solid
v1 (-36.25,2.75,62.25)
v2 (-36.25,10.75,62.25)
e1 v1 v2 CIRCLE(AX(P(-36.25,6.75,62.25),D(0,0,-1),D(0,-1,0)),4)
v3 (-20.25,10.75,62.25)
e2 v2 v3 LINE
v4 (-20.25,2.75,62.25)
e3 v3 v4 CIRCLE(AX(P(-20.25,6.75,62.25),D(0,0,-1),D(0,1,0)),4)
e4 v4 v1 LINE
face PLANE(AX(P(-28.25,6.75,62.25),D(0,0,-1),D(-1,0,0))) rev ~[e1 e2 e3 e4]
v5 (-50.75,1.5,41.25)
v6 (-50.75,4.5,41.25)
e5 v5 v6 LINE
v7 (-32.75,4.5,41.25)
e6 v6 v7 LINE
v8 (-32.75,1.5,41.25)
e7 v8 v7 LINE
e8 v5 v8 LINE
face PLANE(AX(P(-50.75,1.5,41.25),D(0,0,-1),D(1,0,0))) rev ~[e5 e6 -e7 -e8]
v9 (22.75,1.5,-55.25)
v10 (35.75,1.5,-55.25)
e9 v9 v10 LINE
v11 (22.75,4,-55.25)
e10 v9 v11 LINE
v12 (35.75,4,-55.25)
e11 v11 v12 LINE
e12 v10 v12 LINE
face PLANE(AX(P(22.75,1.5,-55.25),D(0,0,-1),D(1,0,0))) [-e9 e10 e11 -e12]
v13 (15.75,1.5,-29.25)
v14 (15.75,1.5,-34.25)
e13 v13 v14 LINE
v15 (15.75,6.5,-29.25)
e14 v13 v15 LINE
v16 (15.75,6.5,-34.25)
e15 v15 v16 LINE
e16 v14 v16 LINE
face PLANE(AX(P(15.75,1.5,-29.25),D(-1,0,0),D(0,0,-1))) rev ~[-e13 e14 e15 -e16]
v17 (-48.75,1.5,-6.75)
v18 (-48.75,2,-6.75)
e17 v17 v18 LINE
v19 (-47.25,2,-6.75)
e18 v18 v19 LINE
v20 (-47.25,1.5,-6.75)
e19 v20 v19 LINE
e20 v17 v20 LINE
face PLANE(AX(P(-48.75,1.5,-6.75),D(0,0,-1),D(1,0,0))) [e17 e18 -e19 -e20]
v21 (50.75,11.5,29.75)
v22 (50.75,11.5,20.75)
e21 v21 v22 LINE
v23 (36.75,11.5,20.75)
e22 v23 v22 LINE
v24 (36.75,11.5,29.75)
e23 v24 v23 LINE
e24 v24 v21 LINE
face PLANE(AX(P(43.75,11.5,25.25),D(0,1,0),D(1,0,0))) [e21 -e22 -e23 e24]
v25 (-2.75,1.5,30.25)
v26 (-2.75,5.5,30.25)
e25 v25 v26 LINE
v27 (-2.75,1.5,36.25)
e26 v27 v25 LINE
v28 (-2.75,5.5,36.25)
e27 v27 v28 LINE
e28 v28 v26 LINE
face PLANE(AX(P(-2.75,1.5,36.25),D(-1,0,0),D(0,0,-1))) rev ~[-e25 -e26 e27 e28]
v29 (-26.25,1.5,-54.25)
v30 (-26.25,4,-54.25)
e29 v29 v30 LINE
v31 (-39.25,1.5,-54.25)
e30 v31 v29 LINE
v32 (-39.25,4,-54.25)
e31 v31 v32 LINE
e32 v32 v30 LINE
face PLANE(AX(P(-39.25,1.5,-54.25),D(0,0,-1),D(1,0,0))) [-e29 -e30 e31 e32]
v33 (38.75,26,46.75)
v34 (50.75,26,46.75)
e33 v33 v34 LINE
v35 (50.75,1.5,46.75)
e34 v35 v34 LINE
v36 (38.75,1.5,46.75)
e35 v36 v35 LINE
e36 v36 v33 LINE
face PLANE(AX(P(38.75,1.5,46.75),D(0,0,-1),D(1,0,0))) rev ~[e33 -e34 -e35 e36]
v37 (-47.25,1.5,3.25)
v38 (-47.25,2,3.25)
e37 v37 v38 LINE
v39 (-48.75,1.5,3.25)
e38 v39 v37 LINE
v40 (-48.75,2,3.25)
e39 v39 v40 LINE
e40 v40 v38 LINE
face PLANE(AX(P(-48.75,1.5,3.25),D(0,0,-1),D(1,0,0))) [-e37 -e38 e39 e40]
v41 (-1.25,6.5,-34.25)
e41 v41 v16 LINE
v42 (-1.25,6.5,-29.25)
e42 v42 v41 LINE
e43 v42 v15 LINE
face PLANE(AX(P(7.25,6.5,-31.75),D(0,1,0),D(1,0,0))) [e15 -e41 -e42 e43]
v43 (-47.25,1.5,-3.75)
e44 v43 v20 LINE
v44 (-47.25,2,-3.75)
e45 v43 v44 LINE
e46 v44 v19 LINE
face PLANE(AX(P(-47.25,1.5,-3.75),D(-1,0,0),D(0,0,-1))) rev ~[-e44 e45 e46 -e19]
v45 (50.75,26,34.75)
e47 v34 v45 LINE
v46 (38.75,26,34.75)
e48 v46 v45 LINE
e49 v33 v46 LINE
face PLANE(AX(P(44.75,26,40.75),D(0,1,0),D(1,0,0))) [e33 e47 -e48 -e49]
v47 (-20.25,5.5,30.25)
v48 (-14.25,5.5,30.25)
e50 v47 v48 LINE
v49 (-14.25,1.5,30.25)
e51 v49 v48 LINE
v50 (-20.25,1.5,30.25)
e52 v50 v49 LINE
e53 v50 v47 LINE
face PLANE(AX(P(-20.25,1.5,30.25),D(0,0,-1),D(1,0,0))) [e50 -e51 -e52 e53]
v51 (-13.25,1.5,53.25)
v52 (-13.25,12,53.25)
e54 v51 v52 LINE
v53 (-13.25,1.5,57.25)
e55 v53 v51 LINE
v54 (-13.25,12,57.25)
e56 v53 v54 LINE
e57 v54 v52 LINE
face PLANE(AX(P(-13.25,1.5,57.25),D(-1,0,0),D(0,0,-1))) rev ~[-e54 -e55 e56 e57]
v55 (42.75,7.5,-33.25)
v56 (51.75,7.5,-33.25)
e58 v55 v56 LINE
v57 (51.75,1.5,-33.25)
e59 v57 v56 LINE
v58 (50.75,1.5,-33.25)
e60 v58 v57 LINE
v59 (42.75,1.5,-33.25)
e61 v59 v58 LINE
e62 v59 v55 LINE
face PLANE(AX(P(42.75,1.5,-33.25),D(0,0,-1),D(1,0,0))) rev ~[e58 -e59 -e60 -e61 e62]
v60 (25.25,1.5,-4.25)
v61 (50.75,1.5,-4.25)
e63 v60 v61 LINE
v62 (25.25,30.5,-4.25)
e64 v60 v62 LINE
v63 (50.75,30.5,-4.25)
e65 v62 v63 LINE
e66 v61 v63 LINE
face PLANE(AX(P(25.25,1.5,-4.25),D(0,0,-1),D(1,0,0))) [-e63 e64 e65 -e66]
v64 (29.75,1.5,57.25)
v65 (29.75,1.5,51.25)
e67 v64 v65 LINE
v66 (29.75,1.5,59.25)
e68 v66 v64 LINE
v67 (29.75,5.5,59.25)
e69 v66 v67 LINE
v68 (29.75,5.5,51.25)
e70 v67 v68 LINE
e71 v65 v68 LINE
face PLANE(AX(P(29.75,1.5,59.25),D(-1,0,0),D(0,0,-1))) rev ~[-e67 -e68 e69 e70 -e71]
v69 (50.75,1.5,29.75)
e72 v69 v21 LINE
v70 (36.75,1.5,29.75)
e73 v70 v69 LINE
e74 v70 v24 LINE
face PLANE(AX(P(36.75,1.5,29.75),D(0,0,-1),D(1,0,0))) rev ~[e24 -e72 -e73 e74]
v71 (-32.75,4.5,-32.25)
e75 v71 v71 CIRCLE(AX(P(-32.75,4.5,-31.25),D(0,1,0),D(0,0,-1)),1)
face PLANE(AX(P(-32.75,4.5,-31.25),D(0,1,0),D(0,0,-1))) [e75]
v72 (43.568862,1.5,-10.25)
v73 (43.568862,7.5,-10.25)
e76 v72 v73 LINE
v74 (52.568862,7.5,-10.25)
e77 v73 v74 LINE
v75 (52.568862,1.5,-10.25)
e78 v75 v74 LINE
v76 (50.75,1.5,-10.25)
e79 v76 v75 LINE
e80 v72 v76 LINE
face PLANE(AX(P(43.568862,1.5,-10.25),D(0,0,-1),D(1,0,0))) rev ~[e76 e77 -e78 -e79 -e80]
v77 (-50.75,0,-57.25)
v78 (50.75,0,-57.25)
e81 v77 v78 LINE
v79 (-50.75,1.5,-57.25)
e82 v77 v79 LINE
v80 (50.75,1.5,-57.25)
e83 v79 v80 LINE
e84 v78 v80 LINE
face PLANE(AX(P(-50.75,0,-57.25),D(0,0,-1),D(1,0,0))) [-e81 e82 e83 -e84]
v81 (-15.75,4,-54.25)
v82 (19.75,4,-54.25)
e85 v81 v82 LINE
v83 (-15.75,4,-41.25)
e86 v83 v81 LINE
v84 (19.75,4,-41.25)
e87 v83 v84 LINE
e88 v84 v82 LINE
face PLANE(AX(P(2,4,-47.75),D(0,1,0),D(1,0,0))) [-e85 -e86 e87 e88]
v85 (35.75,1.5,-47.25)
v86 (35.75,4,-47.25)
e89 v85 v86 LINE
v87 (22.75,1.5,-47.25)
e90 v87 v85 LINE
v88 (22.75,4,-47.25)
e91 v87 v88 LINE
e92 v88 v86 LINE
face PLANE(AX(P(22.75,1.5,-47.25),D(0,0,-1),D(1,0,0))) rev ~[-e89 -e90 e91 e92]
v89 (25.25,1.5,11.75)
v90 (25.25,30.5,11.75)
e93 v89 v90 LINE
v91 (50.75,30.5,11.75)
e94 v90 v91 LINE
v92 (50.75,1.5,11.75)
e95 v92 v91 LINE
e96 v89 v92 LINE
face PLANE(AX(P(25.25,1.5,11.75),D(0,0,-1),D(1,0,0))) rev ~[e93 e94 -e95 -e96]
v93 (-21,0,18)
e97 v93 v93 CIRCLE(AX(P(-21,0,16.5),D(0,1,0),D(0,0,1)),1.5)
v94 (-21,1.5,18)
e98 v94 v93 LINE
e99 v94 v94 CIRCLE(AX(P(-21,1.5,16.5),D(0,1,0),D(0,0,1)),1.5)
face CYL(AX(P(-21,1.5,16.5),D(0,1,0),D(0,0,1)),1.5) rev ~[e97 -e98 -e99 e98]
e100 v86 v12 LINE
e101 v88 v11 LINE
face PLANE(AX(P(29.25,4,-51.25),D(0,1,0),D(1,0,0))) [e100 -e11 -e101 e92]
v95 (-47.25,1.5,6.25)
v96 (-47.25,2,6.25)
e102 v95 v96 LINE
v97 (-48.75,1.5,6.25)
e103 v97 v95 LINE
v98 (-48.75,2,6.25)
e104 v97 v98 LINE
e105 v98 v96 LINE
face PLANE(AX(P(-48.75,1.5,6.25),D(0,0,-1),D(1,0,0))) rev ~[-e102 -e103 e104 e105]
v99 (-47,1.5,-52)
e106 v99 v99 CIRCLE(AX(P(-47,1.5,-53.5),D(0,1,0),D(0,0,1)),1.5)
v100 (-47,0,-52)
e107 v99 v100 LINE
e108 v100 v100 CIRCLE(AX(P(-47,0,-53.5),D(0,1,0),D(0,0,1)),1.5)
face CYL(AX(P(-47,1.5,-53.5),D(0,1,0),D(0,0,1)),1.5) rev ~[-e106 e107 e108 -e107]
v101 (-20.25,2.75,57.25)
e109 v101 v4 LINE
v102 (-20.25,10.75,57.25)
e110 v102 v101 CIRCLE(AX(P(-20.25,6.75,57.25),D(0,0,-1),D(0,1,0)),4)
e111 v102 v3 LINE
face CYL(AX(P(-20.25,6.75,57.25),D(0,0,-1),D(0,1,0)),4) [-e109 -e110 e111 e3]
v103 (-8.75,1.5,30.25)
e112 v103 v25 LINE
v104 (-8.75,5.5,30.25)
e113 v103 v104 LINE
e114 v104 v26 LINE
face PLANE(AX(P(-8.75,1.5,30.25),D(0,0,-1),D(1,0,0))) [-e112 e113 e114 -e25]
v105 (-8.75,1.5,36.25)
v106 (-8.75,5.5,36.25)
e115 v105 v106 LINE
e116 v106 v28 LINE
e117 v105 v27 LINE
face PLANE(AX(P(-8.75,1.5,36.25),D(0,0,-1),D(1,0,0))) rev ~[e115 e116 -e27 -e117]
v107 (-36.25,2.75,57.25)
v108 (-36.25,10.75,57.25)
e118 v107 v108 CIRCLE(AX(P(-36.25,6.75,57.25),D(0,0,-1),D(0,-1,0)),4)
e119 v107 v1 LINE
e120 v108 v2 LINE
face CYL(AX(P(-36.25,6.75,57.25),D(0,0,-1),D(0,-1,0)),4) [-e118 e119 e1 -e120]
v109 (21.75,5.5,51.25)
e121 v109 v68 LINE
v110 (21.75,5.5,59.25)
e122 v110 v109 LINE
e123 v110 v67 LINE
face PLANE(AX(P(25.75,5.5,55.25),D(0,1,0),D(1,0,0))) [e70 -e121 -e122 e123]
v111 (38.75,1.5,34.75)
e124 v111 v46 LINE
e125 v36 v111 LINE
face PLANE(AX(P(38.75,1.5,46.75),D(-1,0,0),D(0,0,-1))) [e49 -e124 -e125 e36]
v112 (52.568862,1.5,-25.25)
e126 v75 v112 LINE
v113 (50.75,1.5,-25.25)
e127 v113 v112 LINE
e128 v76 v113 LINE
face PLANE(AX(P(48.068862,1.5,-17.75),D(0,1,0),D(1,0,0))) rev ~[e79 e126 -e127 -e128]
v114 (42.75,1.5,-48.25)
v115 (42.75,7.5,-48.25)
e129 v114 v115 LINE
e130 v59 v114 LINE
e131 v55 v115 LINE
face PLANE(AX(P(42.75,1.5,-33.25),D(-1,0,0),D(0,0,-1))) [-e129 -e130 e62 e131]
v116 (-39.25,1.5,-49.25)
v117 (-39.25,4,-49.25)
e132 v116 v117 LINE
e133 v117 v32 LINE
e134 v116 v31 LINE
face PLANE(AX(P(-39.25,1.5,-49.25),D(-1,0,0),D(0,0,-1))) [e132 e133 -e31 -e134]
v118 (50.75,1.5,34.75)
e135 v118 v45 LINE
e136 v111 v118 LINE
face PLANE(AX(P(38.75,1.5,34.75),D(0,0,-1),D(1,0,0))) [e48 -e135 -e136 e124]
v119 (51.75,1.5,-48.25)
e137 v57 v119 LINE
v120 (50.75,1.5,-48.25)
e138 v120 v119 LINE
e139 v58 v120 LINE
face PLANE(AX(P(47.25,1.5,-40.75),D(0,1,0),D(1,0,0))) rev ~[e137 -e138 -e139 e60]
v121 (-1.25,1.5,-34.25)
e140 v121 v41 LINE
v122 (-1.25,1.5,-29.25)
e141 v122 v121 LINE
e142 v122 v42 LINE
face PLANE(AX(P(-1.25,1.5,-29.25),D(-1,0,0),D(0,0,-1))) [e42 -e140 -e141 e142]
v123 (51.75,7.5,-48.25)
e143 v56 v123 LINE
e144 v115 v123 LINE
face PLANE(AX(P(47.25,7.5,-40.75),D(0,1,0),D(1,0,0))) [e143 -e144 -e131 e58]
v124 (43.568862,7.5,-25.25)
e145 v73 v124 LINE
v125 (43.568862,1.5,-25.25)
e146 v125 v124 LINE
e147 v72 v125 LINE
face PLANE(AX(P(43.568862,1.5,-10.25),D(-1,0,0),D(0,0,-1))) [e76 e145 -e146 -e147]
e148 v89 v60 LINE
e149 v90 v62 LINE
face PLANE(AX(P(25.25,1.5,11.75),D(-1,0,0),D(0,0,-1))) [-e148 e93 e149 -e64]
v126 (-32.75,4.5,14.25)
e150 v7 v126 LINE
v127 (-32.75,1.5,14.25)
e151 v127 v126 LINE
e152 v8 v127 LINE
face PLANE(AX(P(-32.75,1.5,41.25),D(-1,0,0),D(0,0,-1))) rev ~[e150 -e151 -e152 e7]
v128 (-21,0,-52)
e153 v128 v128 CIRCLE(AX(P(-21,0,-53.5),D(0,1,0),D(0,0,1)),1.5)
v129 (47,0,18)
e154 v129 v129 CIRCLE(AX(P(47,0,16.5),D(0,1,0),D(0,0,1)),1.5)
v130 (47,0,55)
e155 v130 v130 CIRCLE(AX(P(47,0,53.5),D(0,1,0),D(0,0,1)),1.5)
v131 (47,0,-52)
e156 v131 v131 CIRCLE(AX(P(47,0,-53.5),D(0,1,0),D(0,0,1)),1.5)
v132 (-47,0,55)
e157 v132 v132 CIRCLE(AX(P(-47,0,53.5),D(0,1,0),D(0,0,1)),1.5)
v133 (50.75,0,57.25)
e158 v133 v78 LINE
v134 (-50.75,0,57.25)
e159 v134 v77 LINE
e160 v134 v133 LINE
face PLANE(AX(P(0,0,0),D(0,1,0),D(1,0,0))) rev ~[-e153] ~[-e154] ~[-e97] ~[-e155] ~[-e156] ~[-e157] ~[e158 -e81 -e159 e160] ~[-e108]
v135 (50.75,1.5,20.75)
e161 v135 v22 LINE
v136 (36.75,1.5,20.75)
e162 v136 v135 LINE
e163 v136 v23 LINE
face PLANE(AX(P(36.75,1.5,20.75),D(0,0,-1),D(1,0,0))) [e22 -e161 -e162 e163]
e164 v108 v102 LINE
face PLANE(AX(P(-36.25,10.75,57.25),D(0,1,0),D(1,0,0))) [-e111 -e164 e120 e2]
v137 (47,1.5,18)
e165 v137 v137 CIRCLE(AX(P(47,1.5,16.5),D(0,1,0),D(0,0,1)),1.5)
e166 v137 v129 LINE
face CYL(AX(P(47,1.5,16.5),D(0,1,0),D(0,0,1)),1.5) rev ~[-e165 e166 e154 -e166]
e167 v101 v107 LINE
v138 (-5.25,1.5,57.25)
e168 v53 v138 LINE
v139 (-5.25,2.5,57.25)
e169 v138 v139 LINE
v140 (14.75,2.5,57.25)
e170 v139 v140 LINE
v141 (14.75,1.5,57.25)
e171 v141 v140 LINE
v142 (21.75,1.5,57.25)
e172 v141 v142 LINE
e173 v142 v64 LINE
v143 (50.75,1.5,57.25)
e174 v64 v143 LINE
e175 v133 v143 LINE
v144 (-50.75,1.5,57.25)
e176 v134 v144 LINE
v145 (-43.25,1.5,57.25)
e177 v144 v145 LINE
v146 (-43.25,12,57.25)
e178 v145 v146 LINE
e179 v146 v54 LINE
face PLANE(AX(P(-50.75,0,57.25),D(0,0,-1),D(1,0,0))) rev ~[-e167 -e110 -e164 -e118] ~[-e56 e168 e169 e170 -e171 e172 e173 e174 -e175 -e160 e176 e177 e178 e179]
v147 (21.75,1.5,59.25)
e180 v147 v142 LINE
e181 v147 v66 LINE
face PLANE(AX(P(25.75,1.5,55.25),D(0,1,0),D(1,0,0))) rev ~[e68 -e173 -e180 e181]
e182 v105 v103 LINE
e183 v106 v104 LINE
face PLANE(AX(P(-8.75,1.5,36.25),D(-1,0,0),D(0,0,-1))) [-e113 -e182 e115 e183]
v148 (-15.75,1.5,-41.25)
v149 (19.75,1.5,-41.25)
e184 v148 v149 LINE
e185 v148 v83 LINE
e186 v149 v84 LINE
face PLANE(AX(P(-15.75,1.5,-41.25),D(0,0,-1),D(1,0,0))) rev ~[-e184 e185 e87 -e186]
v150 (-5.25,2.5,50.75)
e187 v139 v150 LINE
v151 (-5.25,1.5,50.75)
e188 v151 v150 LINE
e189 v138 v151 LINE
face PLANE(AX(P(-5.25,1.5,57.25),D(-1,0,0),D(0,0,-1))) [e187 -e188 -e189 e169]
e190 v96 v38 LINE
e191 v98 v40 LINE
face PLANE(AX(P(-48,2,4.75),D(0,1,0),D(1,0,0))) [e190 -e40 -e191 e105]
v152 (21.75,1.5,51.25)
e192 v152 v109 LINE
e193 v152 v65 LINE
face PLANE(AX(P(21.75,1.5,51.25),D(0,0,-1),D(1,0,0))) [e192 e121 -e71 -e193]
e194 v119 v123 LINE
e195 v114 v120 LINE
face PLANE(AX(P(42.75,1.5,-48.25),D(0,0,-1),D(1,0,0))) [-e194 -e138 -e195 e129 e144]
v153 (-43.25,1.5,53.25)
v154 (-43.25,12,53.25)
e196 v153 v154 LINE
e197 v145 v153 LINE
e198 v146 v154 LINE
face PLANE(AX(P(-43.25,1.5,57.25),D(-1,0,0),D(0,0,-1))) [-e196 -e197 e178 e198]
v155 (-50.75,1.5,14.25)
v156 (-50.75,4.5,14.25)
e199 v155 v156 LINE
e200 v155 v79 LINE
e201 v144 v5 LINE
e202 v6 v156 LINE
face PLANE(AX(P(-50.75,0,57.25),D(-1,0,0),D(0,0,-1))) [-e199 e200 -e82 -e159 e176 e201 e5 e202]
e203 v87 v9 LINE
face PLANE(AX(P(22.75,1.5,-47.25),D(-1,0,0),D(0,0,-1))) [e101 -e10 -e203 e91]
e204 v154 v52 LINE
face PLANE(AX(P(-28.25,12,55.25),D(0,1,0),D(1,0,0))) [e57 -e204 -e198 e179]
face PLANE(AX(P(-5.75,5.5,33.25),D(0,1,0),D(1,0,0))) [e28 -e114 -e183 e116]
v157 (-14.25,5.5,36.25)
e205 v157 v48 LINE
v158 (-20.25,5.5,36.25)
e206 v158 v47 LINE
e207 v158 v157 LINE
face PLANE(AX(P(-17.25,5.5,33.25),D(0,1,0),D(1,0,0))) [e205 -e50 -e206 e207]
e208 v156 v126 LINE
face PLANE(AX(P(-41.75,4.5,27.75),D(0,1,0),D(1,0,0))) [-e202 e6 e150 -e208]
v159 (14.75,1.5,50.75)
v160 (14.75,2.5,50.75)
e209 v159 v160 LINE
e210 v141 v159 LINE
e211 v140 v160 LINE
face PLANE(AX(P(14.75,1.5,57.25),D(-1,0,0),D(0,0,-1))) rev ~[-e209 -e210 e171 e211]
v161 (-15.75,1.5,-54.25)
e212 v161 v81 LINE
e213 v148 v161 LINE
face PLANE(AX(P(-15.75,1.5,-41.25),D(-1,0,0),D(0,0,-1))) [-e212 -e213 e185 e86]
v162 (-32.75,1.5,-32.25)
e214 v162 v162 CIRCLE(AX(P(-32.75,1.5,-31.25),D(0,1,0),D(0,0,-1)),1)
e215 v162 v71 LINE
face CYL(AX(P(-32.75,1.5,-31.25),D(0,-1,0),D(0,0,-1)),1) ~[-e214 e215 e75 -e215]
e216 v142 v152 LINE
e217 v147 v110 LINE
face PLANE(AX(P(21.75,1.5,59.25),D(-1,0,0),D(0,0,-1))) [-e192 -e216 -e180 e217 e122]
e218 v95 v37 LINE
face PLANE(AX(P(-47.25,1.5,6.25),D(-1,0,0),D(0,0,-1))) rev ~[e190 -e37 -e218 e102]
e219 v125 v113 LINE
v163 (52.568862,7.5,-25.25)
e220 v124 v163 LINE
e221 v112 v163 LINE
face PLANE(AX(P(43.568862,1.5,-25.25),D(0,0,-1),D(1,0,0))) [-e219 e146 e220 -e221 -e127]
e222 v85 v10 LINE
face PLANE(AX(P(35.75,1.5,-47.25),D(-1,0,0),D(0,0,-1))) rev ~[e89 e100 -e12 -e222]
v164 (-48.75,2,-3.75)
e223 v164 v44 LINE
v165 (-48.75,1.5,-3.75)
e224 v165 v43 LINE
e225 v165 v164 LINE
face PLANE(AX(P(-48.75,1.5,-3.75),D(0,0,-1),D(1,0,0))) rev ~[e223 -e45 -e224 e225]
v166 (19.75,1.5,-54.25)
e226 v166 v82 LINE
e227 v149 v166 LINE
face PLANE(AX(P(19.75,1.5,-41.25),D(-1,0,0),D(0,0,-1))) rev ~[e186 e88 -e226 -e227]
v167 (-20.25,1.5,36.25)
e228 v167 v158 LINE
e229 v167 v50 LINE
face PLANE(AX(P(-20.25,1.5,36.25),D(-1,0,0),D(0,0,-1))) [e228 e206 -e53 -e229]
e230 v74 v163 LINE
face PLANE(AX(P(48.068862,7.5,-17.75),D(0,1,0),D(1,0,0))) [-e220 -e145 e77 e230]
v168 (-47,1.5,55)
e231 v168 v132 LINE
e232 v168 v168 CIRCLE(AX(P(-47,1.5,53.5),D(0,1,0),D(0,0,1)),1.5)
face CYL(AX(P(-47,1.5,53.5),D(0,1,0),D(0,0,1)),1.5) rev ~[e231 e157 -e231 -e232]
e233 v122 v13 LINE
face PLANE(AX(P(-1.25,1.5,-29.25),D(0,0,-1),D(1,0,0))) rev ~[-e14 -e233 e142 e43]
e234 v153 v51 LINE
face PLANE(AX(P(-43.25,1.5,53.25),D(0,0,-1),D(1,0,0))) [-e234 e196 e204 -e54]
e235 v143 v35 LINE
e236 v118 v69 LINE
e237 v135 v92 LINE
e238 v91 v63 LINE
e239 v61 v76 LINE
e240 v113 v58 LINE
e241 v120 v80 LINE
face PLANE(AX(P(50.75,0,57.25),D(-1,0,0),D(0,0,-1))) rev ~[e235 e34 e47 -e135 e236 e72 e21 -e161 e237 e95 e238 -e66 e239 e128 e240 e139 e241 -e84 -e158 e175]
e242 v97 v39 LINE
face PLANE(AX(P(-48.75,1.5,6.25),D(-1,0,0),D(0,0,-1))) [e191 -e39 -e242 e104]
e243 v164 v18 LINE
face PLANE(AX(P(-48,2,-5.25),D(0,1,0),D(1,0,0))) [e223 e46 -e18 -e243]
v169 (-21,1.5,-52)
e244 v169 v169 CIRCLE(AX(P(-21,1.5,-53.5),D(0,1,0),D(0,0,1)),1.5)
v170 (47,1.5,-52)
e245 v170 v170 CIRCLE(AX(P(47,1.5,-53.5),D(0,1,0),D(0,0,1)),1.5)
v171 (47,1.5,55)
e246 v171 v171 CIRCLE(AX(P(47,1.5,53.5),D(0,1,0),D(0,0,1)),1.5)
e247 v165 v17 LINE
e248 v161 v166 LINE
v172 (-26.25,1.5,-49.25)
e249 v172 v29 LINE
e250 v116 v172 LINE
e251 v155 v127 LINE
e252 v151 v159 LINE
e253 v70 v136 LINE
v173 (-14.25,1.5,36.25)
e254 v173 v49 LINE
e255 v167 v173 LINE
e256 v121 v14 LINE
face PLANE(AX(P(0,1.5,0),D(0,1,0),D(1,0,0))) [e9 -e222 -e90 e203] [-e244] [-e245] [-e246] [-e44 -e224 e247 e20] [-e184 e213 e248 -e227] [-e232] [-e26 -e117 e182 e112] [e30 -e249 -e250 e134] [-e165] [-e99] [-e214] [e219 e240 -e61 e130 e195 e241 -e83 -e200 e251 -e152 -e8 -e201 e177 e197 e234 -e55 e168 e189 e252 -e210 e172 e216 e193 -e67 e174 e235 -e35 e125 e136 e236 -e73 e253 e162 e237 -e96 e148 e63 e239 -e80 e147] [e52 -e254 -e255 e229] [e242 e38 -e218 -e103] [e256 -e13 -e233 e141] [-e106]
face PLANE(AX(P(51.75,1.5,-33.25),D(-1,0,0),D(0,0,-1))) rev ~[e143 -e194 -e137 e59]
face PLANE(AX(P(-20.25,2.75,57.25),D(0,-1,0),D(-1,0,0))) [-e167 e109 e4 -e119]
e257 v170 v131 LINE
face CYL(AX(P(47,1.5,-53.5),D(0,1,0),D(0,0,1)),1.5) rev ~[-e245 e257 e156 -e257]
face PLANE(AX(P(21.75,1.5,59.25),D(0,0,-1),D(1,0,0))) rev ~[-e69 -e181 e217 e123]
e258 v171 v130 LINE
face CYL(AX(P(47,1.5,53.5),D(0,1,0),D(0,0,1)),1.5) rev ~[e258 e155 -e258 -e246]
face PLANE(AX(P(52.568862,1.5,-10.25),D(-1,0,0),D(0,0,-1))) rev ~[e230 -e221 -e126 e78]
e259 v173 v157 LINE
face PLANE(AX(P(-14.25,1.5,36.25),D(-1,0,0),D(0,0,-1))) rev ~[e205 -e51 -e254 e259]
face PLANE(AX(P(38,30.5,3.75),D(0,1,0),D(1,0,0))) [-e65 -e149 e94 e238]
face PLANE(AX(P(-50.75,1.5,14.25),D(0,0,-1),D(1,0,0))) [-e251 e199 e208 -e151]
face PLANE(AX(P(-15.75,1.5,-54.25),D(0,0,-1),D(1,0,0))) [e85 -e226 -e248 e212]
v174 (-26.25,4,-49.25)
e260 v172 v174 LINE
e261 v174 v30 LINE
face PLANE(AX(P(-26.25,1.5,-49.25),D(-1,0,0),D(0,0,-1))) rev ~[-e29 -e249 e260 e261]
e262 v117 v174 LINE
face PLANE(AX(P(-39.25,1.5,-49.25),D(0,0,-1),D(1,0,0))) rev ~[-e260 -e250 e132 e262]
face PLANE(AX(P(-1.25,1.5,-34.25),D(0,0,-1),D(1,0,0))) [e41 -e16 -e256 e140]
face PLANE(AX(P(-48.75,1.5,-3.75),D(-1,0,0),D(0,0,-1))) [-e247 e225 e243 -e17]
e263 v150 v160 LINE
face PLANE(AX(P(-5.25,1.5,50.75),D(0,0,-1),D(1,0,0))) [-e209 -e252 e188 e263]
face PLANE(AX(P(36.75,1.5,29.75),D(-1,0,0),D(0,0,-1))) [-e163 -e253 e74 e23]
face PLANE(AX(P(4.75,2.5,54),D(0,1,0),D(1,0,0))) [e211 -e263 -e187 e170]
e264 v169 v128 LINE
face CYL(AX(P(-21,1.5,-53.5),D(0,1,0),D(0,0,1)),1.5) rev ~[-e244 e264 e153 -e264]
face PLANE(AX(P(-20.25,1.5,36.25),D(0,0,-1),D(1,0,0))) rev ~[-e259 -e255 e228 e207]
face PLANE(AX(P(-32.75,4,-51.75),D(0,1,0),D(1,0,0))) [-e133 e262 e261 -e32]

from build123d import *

# Parameters (mm, degrees)
SKETCH1_W                  = 101.5
SKETCH1_H                  = 114.5
TR_KKPLAAT_DEPTH           = 1.5
SKETCH2_R                  = 1.5
AUGUD_DEPTH                = 1.5
SKETCH3_W                  = 35.5
SKETCH3_H                  = 13
EXP_CONN_A_B_DEPTH         = 2.5
SKETCH4_W                  = 13
SKETCH4_H                  = 8
LCD_CONN_A_B_DEPTH         = 2.5
SKETCH5_W                  = 13
SKETCH5_H                  = 5
WIFI_BT_DEPTH              = 2.5
SKETCH6_W                  = 17
SKETCH6_H                  = 5
JTAG_DEPTH                 = 5
SKETCH7_W                  = 9
SKETCH7_H                  = 15
HDMI_A_B_DEPTH             = 6
SKETCH8_W                  = 25.5
SKETCH8_H                  = 16
USB_ETHERNET_DEPTH         = 29
SKETCH9_W                  = 14
SKETCH9_H                  = 9
F_5V_IN_DEPTH              = 10
SKETCH10_W                 = 12
SKETCH10_H                 = 12
HEADPHONE_DEPTH            = 24.5
SKETCH11_W                 = 8
SKETCH11_H                 = 8
MINI_USB_DEPTH             = 4
SKETCH12_W                 = 30
SKETCH12_H                 = 4
BOSS_EXTRUDE11_DEPTH       = 10.5
BOSS_EXTRUDE12_DEPTH       = 5
SKETCH14_W                 = 18
SKETCH14_H                 = 27
SD_CARD_SLOT_DEPTH         = 3
SKETCH15_W                 = 1.5
SKETCH15_H                 = 3
STATUS_LED_DEPTH           = 0.5
SKETCH16_W                 = 6
SKETCH16_H                 = 6
PWRON_RESET_GPIO_121_DEPTH = 4
SKETCH17_W                 = 20
SKETCH17_H                 = 6.5
CAMERA_CONN_DEPTH          = 1
SKETCH18_R                 = 1
WIFI_BT_ANTENNA_DEPTH      = 3


with BuildPart() as part:
    # Sketch1 → trükkplaat (new body)
    with BuildSketch(Plane(origin=(0, 0, 0), x_dir=(1, 0, 0), z_dir=(0, 1, 0))):
        Rectangle(SKETCH1_W, SKETCH1_H)
    extrude(amount=TR_KKPLAAT_DEPTH)

    # Sketch2 → augud (cut)
    with BuildSketch(Plane(origin=(0, 1.5, 0), x_dir=(1, 0, 0), z_dir=(0, 1, 0))):
        with Locations(Location((-47, 53.5, 0), (0, 0, 270))):
            Circle(SKETCH2_R)
        with Locations(Location((47, 53.5, 0), (0, 0, 270))):
            Circle(SKETCH2_R)
        with Locations(Location((47, -53.5, 0), (0, 0, 270))):
            Circle(SKETCH2_R)
        with Locations(Location((-47, -53.5, 0), (0, 0, 270))):
            Circle(SKETCH2_R)
        with Locations(Location((-21, 53.5, 0), (0, 0, 270))):
            Circle(SKETCH2_R)
        with Locations(Location((-21, -16.5, 0), (0, 0, 270))):
            Circle(SKETCH2_R)
        with Locations(Location((47, -16.5, 0), (0, 0, 270))):
            Circle(SKETCH2_R)
    extrude(amount=-AUGUD_DEPTH, mode=Mode.SUBTRACT)

    # Sketch3 → exp. conn. A/B (add)
    with BuildSketch(Plane(origin=(0, 1.5, 0), x_dir=(1, 0, 0), z_dir=(0, 1, 0))):
        with Locations((2, 47.75)):
            Rectangle(SKETCH3_W, SKETCH3_H)
    extrude(amount=EXP_CONN_A_B_DEPTH)

    # Sketch4 → LCD conn. A/B (add)
    with BuildSketch(Plane(origin=(0, 1.5, 0), x_dir=(1, 0, 0), z_dir=(0, 1, 0))):
        with Locations((29.25, 51.25)):
            Rectangle(SKETCH4_W, SKETCH4_H)
    extrude(amount=LCD_CONN_A_B_DEPTH)

    # Sketch5 → WIFI/BT (add)
    with BuildSketch(Plane(origin=(0, 1.5, 0), x_dir=(1, 0, 0), z_dir=(0, 1, 0))):
        with Locations((-32.75, 51.75)):
            Rectangle(SKETCH5_W, SKETCH5_H)
    extrude(amount=WIFI_BT_DEPTH)

    # Sketch6 → JTAG (add)
    with BuildSketch(Plane(origin=(0, 1.5, 0), x_dir=(1, 0, 0), z_dir=(0, 1, 0))):
        with Locations((7.25, 31.75)):
            Rectangle(SKETCH6_W, SKETCH6_H)
    extrude(amount=JTAG_DEPTH)

    # Sketch7 → HDMI A/B (add)
    with BuildSketch(Plane(origin=(0, 1.5, 0), x_dir=(1, 0, 0), z_dir=(0, 1, 0))):
        with Locations((47.25, 40.75)):
            Rectangle(SKETCH7_W, SKETCH7_H)
        with Locations((48.068861521, 17.75)):
            Rectangle(SKETCH7_W, SKETCH7_H)
    extrude(amount=HDMI_A_B_DEPTH)

    # Sketch8 → USB/Ethernet (add)
    with BuildSketch(Plane(origin=(0, 1.5, 0), x_dir=(1, 0, 0), z_dir=(0, 1, 0))):
        with Locations((38, -3.75)):
            Rectangle(SKETCH8_W, SKETCH8_H)
    extrude(amount=USB_ETHERNET_DEPTH)

    # Sketch9 → 5V in (add)
    with BuildSketch(Plane(origin=(0, 1.5, 0), x_dir=(1, 0, 0), z_dir=(0, 1, 0))):
        with Locations((43.75, -25.25)):
            Rectangle(SKETCH9_W, SKETCH9_H)
    extrude(amount=F_5V_IN_DEPTH)

    # Sketch10 → Headphone (add)
    with BuildSketch(Plane(origin=(0, 1.5, 0), x_dir=(1, 0, 0), z_dir=(0, 1, 0))):
        with Locations((44.75, -40.75)):
            Rectangle(SKETCH10_W, SKETCH10_H)
    extrude(amount=HEADPHONE_DEPTH)

    # Sketch11 → mini-USB (add)
    with BuildSketch(Plane(origin=(0, 1.5, 0), x_dir=(1, 0, 0), z_dir=(0, 1, 0))):
        with Locations((25.75, -55.25)):
            Rectangle(SKETCH11_W, SKETCH11_H)
    extrude(amount=MINI_USB_DEPTH)

    # Sketch12 → Boss-Extrude11 (add)
    with BuildSketch(Plane(origin=(0, 1.5, 0), x_dir=(1, 0, 0), z_dir=(0, 1, 0))):
        with Locations((-28.25, -55.25)):
            Rectangle(SKETCH12_W, SKETCH12_H)
    extrude(amount=BOSS_EXTRUDE11_DEPTH)

    # Sketch13 → Boss-Extrude12 (add)
    with BuildSketch(Plane.XY.offset(57.25)):
        with BuildLine():
            Line((-36.25, 10.75), (-20.25, 10.75))
            ThreePointArc((-20.25, 10.75), (-16.25, 6.75), (-20.25, 2.75))
            Line((-20.25, 2.75), (-36.25, 2.75))
            ThreePointArc((-36.25, 2.75), (-40.25, 6.75), (-36.25, 10.75))
        make_face()
    extrude(amount=BOSS_EXTRUDE12_DEPTH)

    # Sketch14 → SD-card slot (add)
    with BuildSketch(Plane(origin=(0, 1.5, 0), x_dir=(1, 0, 0), z_dir=(0, 1, 0))):
        with Locations((-41.75, -27.75)):
            Rectangle(SKETCH14_W, SKETCH14_H)
    extrude(amount=SD_CARD_SLOT_DEPTH)

    # Sketch15 → status LED (add)
    with BuildSketch(Plane(origin=(0, 1.5, 0), x_dir=(1, 0, 0), z_dir=(0, 1, 0))):
        with Locations((-48, -4.75)):
            Rectangle(SKETCH15_W, SKETCH15_H)
        with Locations((-48, 5.25)):
            Rectangle(SKETCH15_W, SKETCH15_H)
    extrude(amount=STATUS_LED_DEPTH)

    # Sketch16 → PWRON_RESET/GPIO_121 (add)
    with BuildSketch(Plane(origin=(0, 1.5, 0), x_dir=(1, 0, 0), z_dir=(0, 1, 0))):
        with Locations((-5.75, -33.25)):
            Rectangle(SKETCH16_W, SKETCH16_H)
        with Locations((-17.25, -33.25)):
            Rectangle(SKETCH16_W, SKETCH16_H)
    extrude(amount=PWRON_RESET_GPIO_121_DEPTH)

    # Sketch17 → camera conn (add)
    with BuildSketch(Plane(origin=(0, 1.5, 0), x_dir=(1, 0, 0), z_dir=(0, 1, 0))):
        with Locations((4.75, -54)):
            Rectangle(SKETCH17_W, SKETCH17_H)
    extrude(amount=CAMERA_CONN_DEPTH)

    # Sketch18 → WIFI?/BT? antenna (add)
    with BuildSketch(Plane(origin=(0, 1.5, 0), x_dir=(1, 0, 0), z_dir=(0, 1, 0))):
        with Locations(Location((-32.75, 31.25, 0), (0, 0, 90))):
            Circle(SKETCH18_R)
    extrude(amount=WIFI_BT_ANTENNA_DEPTH)


solid = part.part
